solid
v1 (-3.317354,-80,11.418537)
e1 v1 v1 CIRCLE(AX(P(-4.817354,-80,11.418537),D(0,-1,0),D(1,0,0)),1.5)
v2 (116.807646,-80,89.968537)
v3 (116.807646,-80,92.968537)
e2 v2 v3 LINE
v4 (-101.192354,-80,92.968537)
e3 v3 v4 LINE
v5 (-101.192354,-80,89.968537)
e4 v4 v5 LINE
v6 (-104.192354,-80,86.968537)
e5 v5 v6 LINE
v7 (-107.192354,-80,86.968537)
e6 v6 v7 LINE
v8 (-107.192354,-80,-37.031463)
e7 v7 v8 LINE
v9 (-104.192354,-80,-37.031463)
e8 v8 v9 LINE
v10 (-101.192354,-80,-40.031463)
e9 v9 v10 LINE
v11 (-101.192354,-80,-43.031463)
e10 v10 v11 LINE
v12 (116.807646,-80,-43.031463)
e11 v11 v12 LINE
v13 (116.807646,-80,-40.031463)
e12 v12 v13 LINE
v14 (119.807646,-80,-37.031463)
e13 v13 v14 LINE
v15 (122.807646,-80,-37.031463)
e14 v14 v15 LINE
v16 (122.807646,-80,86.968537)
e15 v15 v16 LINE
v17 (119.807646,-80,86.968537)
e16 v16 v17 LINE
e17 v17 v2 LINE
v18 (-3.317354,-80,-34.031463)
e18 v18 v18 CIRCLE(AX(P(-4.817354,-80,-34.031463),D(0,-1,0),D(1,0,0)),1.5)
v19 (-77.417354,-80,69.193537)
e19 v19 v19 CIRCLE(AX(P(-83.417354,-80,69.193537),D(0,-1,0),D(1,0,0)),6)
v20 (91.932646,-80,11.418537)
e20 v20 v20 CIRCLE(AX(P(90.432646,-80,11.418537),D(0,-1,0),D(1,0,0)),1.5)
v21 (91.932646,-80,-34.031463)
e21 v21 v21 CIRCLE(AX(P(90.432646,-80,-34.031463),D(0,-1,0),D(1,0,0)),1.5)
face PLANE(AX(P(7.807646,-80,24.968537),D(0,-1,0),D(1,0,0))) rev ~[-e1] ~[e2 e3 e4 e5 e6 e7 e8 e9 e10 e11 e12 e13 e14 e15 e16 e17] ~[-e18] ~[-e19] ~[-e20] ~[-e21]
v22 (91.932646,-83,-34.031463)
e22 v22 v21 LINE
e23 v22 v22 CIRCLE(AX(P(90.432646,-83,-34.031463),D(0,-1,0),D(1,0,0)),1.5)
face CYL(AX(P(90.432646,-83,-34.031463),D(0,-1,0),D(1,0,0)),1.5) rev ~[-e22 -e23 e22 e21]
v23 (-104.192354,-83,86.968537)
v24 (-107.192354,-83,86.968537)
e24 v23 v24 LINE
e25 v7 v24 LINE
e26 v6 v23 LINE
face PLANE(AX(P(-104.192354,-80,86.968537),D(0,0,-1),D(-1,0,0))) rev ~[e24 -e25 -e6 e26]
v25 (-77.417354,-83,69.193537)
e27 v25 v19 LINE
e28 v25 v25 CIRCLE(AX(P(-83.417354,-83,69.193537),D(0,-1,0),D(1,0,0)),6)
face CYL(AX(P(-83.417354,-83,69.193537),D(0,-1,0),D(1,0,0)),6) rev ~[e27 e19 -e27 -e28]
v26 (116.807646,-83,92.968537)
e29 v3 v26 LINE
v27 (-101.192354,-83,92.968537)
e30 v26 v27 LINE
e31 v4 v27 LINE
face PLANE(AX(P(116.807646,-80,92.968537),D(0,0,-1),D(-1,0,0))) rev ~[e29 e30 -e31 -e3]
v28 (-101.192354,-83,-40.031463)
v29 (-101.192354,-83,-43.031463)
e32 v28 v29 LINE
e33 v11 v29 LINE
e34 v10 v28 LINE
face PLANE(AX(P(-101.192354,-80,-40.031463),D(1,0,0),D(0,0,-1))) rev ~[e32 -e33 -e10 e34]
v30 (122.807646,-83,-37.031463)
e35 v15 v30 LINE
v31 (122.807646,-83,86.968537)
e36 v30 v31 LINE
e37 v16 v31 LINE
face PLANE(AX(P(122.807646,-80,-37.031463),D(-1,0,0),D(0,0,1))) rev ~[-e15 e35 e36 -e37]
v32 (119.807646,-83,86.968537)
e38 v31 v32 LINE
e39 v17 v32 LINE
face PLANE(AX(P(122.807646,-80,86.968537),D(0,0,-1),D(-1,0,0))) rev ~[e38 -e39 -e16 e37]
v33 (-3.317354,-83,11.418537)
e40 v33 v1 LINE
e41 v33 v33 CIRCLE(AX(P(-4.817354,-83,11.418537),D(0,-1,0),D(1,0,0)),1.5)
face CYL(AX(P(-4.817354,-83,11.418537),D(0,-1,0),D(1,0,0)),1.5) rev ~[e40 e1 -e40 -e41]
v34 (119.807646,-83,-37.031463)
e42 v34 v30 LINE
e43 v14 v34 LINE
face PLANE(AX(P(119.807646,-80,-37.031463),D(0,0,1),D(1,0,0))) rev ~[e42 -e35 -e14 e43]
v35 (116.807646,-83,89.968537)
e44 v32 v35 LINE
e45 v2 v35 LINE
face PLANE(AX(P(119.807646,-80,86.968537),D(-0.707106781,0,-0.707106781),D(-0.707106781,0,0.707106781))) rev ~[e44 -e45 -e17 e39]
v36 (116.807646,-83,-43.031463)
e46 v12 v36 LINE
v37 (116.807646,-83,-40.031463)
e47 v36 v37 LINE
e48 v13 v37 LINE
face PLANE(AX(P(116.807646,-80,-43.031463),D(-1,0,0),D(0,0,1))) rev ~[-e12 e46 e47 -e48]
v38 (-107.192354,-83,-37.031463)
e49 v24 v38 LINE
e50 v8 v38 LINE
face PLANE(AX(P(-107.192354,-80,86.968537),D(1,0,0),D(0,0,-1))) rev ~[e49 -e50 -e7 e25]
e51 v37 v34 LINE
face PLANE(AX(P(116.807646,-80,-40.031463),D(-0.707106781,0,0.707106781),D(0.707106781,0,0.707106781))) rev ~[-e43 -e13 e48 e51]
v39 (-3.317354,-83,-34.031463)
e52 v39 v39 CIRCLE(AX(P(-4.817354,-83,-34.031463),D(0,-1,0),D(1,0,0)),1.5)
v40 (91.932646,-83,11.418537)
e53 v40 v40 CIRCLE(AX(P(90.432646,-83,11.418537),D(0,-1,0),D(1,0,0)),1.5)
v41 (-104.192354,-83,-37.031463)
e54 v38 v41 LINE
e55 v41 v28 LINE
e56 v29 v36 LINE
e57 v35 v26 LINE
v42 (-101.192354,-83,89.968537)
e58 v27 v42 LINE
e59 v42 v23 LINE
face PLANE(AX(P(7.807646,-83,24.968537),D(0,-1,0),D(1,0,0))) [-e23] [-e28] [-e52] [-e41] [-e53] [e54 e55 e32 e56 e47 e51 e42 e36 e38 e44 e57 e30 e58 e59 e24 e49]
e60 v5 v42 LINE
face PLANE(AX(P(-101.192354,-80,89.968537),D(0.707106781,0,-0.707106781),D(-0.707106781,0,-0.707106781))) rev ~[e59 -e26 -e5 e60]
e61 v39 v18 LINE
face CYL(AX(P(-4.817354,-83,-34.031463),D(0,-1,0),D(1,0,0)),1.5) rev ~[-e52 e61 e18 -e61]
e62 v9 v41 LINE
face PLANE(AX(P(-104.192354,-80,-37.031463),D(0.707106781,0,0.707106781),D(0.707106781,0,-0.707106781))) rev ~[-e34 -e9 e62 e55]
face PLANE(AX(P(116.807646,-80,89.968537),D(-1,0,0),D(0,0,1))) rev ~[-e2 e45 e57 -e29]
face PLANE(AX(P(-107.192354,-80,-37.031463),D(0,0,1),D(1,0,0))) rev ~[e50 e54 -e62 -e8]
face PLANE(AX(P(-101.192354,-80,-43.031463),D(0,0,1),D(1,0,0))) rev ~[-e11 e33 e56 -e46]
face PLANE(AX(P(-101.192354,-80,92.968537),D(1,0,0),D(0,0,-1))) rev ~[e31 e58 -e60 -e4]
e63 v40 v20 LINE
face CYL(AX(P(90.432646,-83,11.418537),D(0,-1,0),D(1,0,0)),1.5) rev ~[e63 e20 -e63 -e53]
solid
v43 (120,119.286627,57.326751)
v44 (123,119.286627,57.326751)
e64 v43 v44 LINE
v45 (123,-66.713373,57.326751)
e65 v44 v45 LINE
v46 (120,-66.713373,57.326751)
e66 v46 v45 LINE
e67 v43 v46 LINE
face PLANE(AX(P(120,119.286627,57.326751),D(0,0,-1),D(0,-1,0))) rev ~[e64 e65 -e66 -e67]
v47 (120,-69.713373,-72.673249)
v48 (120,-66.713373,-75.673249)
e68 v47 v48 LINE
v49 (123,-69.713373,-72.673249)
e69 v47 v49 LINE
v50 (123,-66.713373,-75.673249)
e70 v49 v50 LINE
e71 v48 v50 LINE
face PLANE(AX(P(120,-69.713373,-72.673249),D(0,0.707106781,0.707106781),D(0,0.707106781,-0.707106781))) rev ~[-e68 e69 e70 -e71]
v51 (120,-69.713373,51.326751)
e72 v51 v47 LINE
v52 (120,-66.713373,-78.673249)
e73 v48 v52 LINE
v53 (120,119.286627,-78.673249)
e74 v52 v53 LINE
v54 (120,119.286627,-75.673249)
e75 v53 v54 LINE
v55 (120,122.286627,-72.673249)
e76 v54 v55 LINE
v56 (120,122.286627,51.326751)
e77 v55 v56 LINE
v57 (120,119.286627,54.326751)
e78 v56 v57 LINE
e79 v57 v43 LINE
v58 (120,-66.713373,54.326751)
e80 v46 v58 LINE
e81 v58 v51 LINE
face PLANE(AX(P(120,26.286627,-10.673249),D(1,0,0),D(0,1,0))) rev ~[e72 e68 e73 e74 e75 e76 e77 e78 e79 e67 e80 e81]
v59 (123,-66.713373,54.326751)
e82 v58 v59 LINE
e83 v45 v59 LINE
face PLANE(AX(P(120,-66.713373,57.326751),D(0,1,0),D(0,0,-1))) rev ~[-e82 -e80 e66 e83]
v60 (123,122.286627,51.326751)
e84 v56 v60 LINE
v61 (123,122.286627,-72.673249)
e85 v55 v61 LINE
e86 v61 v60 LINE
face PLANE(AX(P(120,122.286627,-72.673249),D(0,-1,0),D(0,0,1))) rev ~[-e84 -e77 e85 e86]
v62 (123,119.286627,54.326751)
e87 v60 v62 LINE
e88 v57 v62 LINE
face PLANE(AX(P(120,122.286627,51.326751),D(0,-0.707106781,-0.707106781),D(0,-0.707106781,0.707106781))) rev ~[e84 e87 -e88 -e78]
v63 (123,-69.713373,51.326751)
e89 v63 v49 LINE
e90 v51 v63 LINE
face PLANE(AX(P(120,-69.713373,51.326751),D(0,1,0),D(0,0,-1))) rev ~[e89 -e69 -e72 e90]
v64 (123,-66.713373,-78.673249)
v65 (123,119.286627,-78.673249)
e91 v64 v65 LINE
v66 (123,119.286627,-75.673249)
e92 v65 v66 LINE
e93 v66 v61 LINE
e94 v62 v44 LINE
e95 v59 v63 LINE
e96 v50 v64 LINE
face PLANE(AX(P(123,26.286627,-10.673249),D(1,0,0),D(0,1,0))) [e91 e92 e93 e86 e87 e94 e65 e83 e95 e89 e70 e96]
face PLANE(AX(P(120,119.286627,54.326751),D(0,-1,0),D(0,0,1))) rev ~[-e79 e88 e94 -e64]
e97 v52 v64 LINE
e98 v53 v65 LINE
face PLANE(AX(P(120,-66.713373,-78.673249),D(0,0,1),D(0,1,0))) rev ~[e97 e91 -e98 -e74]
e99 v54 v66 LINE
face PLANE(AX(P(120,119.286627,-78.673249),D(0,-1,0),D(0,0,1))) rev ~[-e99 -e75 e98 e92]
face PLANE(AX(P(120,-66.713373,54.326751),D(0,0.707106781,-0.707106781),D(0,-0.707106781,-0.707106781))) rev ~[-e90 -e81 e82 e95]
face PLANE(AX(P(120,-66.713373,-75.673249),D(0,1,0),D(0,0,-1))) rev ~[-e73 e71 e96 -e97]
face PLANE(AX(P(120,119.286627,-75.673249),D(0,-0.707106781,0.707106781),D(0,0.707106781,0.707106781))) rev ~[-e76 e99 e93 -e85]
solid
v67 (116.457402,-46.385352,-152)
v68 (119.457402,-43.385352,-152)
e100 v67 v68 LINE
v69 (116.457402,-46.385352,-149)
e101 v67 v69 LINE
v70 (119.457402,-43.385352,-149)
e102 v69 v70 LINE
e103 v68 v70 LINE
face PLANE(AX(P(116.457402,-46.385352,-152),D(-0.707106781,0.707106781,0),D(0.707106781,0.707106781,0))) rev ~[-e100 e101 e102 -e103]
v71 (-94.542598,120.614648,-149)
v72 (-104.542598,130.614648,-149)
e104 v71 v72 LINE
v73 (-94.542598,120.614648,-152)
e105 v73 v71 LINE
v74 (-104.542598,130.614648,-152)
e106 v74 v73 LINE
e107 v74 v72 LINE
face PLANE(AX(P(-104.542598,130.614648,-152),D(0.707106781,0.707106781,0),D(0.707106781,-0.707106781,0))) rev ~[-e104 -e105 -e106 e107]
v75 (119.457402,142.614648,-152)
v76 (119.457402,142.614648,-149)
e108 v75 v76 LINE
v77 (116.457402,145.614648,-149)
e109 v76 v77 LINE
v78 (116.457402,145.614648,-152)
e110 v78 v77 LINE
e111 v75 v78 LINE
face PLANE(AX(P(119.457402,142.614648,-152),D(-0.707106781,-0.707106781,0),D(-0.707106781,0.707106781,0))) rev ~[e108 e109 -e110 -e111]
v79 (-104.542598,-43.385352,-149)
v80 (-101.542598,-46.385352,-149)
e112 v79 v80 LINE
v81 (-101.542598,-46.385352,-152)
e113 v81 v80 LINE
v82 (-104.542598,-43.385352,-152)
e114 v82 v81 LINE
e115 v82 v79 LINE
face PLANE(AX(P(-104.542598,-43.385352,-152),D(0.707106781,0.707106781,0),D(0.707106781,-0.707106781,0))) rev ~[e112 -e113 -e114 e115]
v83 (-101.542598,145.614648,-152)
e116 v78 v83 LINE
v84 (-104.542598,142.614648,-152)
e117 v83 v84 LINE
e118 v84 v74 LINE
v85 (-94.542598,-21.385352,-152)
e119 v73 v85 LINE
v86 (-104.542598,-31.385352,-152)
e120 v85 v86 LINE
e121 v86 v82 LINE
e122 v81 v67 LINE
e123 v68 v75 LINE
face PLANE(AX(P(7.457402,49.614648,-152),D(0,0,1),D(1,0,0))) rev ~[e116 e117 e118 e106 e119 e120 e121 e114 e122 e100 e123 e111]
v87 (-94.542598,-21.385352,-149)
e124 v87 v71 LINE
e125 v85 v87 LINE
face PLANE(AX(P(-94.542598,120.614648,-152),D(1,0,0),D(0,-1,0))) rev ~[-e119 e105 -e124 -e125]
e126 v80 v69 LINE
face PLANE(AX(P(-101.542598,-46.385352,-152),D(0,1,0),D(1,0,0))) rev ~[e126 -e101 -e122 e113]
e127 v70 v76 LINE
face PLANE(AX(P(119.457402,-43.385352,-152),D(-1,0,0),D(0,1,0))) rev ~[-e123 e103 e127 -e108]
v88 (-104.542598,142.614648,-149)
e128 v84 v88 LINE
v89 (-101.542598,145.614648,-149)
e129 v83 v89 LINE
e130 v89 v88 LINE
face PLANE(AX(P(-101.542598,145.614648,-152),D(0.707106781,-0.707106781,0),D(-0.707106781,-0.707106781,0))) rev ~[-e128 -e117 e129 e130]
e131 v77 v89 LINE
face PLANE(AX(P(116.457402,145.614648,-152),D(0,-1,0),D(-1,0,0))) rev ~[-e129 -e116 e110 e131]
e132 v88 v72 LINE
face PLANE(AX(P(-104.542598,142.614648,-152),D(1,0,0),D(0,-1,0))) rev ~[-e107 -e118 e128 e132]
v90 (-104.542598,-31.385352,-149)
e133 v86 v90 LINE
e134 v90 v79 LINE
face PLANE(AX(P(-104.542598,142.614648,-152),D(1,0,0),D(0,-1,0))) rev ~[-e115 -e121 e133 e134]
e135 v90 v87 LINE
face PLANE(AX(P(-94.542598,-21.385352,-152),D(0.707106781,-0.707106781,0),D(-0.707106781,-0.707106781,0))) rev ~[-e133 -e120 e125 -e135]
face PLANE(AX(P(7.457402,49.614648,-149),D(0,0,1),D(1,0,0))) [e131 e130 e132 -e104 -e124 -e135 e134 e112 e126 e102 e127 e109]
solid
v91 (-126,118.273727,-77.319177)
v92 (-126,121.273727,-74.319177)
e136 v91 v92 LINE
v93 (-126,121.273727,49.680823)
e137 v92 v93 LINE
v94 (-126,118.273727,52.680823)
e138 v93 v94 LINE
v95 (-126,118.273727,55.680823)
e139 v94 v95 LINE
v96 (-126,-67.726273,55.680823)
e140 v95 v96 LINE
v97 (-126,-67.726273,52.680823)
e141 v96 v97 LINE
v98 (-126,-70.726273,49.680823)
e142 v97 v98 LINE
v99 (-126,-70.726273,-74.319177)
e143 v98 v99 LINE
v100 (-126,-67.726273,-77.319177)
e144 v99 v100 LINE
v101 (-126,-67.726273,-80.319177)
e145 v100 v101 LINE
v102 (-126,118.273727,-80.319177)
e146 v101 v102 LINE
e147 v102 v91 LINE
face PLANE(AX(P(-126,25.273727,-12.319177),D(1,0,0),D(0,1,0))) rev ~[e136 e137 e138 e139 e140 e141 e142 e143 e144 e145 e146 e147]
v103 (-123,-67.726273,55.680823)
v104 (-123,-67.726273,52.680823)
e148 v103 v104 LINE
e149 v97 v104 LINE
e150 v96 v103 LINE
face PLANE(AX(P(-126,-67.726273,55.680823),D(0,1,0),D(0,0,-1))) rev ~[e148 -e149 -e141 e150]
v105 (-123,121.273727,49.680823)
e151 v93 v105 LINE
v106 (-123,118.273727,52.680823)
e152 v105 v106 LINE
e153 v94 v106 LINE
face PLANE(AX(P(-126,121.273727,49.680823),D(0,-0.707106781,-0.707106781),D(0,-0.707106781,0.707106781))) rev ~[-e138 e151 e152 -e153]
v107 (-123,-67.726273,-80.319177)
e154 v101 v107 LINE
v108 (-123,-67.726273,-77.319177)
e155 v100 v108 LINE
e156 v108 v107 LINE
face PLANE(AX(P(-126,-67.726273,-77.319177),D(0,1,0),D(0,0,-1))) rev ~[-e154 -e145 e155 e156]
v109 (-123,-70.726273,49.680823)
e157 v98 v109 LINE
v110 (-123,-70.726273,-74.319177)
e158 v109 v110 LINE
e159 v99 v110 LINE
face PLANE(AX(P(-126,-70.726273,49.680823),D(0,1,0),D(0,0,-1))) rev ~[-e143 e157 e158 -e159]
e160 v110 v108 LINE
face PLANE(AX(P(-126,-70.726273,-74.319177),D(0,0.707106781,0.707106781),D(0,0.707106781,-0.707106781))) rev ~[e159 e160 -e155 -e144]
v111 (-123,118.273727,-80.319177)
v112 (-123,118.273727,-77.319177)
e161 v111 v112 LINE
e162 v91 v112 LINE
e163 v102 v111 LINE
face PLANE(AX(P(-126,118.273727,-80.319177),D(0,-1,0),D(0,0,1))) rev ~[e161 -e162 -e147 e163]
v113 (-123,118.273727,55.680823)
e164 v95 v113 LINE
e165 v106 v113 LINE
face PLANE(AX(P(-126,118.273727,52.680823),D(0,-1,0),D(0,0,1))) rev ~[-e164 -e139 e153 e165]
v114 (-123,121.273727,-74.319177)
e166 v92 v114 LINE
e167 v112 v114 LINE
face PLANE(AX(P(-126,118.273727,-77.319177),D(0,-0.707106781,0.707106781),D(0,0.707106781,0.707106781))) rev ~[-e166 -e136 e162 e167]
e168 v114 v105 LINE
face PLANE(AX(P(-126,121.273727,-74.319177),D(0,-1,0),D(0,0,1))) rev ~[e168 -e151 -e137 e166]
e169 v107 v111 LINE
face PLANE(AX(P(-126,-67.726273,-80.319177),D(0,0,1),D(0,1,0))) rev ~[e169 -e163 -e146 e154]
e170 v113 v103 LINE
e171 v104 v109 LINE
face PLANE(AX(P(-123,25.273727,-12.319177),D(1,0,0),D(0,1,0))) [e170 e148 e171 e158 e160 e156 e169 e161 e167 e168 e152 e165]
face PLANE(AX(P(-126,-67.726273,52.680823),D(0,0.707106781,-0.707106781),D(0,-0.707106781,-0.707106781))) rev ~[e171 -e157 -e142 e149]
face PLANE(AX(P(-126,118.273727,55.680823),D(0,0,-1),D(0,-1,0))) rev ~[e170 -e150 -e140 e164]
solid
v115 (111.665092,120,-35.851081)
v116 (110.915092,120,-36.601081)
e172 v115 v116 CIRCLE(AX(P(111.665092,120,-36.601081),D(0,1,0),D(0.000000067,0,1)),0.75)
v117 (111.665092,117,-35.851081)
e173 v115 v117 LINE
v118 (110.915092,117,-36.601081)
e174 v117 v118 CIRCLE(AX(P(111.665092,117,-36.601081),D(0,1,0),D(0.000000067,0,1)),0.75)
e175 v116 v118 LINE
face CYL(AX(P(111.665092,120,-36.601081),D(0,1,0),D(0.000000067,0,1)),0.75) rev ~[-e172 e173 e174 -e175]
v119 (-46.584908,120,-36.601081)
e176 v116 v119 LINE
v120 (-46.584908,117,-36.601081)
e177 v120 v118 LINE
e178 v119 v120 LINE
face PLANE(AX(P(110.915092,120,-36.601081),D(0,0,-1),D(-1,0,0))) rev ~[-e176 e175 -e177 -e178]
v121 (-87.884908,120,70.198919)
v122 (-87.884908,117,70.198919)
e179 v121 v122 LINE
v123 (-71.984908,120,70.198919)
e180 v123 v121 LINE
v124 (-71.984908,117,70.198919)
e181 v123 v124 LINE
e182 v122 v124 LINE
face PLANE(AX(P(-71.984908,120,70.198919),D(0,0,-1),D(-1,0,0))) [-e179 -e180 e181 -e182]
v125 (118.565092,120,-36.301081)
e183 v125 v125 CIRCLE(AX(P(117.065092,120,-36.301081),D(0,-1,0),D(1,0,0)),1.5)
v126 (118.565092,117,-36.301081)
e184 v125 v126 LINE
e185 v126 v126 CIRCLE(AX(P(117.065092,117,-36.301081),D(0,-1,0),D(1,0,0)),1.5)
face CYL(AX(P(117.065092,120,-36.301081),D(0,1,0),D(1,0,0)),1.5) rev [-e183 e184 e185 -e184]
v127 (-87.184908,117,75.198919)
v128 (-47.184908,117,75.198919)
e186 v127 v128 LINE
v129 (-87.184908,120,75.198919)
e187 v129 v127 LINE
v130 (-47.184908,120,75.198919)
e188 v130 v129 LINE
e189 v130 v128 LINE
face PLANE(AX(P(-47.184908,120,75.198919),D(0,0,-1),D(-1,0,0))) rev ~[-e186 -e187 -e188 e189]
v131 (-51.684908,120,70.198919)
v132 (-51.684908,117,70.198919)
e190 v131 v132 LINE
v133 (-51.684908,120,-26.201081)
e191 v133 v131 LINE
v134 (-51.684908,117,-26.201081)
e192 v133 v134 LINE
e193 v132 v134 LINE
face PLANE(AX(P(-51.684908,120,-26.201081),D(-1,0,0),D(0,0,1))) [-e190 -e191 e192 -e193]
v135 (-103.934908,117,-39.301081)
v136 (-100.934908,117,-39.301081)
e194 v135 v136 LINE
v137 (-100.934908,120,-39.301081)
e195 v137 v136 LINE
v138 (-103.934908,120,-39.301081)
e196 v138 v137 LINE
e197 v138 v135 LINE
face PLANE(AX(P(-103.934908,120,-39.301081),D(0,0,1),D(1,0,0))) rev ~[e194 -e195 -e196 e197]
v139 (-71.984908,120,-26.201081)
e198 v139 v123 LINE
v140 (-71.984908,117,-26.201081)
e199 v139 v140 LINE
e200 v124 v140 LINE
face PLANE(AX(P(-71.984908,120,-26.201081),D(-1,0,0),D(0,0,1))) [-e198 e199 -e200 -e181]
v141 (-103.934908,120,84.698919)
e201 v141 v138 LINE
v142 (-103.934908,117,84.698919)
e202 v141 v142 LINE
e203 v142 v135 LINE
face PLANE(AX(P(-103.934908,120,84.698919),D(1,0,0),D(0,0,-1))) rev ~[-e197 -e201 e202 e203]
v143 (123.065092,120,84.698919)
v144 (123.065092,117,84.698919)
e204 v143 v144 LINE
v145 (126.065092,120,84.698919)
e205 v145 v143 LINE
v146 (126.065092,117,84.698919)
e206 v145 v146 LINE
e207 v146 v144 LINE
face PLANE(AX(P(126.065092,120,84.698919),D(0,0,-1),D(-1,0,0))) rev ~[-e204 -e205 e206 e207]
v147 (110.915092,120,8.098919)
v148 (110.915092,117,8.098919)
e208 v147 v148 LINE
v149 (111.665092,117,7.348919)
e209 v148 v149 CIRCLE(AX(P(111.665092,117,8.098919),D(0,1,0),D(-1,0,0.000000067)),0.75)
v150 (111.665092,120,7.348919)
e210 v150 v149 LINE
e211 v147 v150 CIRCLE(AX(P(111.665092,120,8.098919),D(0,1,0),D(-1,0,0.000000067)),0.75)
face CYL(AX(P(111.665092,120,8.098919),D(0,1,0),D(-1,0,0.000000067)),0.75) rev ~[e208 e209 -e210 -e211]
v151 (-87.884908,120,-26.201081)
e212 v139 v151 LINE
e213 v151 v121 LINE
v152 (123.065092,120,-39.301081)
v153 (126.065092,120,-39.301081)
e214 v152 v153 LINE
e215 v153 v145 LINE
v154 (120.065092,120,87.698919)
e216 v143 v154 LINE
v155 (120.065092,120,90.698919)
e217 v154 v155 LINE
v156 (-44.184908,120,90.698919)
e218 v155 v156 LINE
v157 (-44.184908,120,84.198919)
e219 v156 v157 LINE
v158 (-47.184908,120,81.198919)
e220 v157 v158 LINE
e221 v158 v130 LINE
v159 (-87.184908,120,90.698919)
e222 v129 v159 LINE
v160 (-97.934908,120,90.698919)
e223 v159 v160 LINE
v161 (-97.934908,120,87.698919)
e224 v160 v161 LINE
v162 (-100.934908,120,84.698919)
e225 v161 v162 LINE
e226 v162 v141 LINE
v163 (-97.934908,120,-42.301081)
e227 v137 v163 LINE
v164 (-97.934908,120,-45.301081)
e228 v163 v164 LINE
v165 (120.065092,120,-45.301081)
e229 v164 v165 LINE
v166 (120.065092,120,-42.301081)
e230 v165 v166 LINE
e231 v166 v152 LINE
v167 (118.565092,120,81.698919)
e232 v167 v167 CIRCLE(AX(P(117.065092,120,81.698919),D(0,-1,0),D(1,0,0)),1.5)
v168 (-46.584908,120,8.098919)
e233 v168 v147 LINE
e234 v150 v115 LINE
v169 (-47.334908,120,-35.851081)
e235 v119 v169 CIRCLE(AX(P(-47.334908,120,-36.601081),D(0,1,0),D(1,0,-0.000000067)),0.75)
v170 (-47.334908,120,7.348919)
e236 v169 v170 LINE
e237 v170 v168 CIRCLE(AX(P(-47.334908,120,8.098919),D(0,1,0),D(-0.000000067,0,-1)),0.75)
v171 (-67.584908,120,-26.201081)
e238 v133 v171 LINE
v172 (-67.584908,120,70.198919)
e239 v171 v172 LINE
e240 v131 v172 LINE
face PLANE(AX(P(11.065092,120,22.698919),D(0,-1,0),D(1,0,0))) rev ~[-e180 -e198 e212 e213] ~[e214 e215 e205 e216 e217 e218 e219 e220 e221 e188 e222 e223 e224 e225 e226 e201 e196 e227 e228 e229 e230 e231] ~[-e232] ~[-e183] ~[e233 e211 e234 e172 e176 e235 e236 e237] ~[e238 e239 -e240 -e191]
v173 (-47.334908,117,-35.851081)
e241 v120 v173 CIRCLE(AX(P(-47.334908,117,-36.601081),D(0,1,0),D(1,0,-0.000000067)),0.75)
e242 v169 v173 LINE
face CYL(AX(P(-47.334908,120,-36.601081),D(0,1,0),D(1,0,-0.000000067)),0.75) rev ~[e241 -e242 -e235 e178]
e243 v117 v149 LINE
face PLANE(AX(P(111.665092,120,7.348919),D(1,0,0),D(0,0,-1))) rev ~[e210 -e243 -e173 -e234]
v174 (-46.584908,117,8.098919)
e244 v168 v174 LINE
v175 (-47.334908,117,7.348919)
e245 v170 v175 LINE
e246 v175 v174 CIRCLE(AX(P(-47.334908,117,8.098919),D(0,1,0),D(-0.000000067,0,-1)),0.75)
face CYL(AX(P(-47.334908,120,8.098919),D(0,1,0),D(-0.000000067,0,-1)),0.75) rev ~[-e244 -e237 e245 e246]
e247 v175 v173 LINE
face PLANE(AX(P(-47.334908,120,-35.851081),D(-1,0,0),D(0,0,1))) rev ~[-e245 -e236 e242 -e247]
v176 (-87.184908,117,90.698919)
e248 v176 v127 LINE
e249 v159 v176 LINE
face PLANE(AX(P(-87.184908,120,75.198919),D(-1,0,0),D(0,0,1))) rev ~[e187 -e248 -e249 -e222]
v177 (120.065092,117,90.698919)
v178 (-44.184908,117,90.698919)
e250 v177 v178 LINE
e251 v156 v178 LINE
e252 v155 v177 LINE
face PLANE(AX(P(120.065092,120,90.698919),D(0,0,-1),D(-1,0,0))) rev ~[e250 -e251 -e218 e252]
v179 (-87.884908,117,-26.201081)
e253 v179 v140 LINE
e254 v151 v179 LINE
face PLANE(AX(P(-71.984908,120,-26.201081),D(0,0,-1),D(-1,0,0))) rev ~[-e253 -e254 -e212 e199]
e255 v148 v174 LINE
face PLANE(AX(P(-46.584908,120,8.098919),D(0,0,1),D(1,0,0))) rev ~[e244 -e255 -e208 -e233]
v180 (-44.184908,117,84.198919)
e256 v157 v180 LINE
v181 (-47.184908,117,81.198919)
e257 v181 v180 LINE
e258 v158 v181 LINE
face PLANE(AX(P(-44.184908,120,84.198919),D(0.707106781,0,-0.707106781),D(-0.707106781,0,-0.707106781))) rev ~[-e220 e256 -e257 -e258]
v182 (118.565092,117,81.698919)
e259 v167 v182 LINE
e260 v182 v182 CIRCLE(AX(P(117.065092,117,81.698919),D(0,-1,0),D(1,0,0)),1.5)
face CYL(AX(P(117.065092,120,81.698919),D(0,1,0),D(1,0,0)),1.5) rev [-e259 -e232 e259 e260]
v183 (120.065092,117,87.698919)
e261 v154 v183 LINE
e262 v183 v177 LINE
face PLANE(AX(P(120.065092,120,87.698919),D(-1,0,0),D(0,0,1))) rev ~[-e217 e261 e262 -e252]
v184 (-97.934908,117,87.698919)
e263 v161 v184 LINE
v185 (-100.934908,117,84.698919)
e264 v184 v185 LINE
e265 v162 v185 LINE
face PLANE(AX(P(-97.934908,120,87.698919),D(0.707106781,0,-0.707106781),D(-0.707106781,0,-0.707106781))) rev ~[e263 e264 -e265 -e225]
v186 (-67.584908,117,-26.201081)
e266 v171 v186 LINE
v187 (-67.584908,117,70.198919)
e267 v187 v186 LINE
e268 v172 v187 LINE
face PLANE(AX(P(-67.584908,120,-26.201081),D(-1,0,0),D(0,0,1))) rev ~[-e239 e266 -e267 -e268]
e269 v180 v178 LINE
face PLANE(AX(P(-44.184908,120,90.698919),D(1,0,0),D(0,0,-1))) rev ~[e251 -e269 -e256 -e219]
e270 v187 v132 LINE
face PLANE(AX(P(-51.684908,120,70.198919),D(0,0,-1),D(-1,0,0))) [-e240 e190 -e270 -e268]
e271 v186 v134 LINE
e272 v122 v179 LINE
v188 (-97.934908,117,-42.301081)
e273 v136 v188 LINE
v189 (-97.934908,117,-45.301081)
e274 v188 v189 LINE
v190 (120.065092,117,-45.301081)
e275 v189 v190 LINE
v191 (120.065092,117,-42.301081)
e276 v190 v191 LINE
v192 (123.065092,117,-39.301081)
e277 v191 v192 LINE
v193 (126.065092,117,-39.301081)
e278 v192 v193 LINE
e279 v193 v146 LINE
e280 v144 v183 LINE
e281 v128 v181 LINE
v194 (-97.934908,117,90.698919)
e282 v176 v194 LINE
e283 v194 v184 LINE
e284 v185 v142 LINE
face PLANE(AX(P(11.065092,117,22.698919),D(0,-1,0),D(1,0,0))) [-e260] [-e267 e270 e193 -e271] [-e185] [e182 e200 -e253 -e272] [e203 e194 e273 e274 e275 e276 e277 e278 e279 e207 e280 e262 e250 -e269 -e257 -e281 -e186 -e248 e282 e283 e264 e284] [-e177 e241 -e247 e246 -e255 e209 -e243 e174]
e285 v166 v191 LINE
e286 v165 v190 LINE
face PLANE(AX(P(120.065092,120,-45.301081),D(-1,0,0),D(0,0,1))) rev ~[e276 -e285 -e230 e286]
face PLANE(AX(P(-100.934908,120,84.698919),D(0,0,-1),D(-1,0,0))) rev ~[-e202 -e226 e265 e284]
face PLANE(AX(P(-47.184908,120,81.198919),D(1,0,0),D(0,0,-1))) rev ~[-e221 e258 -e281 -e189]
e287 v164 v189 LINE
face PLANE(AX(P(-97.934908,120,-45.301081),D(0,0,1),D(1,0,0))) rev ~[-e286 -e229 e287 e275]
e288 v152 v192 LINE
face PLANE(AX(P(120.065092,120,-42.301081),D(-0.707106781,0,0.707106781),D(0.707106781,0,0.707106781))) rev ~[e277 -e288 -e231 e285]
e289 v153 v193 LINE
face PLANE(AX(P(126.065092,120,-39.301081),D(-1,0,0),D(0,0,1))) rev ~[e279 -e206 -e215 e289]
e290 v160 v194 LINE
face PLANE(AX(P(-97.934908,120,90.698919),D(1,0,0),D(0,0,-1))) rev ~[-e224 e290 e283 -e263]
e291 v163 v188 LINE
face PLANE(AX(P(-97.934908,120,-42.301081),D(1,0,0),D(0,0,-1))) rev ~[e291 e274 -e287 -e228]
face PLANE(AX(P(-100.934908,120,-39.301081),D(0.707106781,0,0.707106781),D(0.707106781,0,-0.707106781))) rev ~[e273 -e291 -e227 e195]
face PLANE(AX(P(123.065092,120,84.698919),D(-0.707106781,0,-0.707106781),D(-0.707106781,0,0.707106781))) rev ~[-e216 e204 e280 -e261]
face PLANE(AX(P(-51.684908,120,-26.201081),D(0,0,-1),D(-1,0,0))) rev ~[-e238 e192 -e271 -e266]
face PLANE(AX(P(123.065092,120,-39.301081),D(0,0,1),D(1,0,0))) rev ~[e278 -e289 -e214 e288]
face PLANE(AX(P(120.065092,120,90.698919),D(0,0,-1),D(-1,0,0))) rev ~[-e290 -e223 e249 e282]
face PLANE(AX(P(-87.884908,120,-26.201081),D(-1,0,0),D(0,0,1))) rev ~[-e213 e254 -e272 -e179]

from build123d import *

# Parameters (mm, degrees)
F2_DEPTH  = 3
F5_DEPTH  = 3
F7_R      = 1.5
F8_DEPTH  = 3
F11_DEPTH = 3
F14_DEPTH = 3
F15_R     = 1.5
F15_R_2   = 6
F16_DEPTH = 25
F17_W     = 15.9
F17_H     = 96.4
F18_DEPTH = 25
F20_DEPTH = 25


with BuildPart() as f2:
    # F1 (on offset) → F2 (new body)
    with BuildSketch(Plane.XZ.offset(80)):
        Polygon((116.807646, 92.968537), (-101.192354, 92.968537), (-101.192354, 89.968537), (-104.192354, 86.968537), (-107.192354, 86.968537), (-107.192354, -37.031463), (-104.192354, -37.031463), (-101.192354, -40.031463), (-101.192354, -43.031463), (116.807646, -43.031463), (116.807646, -40.031463), (119.807646, -37.031463), (122.807646, -37.031463), (122.807646, 86.968537), (119.807646, 86.968537), (116.807646, 89.968537), align=None)
    extrude(amount=F2_DEPTH)

    # F15 (on face) → F16 (cut)
    with BuildSketch(Plane.XZ.offset(83)):
        with Locations((-4.817354, -34.031463)):
            Circle(F15_R)
        with Locations((-4.817354, 11.418537)):
            Circle(F15_R)
        with Locations((90.432646, 11.418537)):
            Circle(F15_R)
        with Locations((90.432646, -34.031463)):
            Circle(F15_R)
        with Locations((-83.417354, 69.193537)):
            Circle(F15_R_2)
    extrude(amount=-F16_DEPTH, mode=Mode.SUBTRACT)


with BuildPart() as f5:
    # F4 (on offset) → F5 (new body)
    with BuildSketch(Plane.YZ.offset(120)):
        Polygon((119.286627, 57.326751), (-66.713373, 57.326751), (-66.713373, 54.326751), (-69.713373, 51.326751), (-69.713373, -72.673249), (-66.713373, -75.673249), (-66.713373, -78.673249), (119.286627, -78.673249), (119.286627, -75.673249), (122.286627, -72.673249), (122.286627, 51.326751), (119.286627, 54.326751), align=None)
    extrude(amount=F5_DEPTH)


with BuildPart() as f8:
    # F7 (on offset) → F8 (new body)
    with BuildSketch(Plane.XZ.offset(-120)):
        Polygon((120.065092, 87.698919), (120.065092, 90.698919), (-97.934908, 90.698919), (-97.934908, 87.698919), (-100.934908, 84.698919), (-103.934908, 84.698919), (-103.934908, -39.301081), (-100.934908, -39.301081), (-97.934908, -42.301081), (-97.934908, -45.301081), (120.065092, -45.301081), (120.065092, -42.301081), (123.065092, -39.301081), (126.065092, -39.301081), (126.065092, 84.698919), (123.065092, 84.698919), align=None)
        with Locations((117.065092, -36.301081)):
            Circle(F7_R, mode=Mode.SUBTRACT)
        with Locations((117.065092, 81.698919)):
            Circle(F7_R, mode=Mode.SUBTRACT)
    extrude(amount=F8_DEPTH)

    # F17 (on face) → F18 (cut)
    with BuildSketch(Plane(origin=(0, 120, 0), x_dir=(-1, 0, 0), z_dir=(0, 1, 0))):
        with Locations((59.634908, 21.998919)):
            Rectangle(F17_W, F17_H)
        with Locations((79.934908, 21.998919)):
            Rectangle(F17_W, F17_H)
        Polygon((-110.915092, 8.098919), (-111.665092, 8.098919), (-111.665092, 7.348919), (-111.665092, -35.851081), (-111.665092, -36.601081), (-110.915092, -36.601081), (46.584908, -36.601081), (47.334908, -36.601081), (47.334908, -35.851081), (47.334908, 7.348919), (47.334908, 8.098919), (46.584908, 8.098919), align=None)
        with BuildLine():
            Line((-111.665092, 7.348919), (-111.665092, 8.098919))
            Line((-111.665092, 8.098919), (-110.915092, 8.098919))
            ThreePointArc((-110.915092, 8.098919), (-112.195422, 8.629249), (-111.665092, 7.348919))
        make_face()
        with BuildLine():
            Line((-111.665092, -36.601081), (-111.665092, -35.851081))
            ThreePointArc((-111.665092, -35.851081), (-112.195422, -37.131411), (-110.915092, -36.601081))
            Line((-110.915092, -36.601081), (-111.665092, -36.601081))
        make_face()
        with BuildLine():
            ThreePointArc((47.334908, 7.348919), (47.865238, 8.629249), (46.584908, 8.098919))
            Line((46.584908, 8.098919), (47.334908, 8.098919))
            Line((47.334908, 8.098919), (47.334908, 7.348919))
        make_face()
        with BuildLine():
            Line((47.334908, -36.601081), (46.584908, -36.601081))
            ThreePointArc((46.584908, -36.601081), (47.865238, -37.131411), (47.334908, -35.851081))
            Line((47.334908, -35.851081), (47.334908, -36.601081))
        make_face()
        Polygon((47.184908, 81.198919), (47.184908, 75.198919), (87.184908, 75.198919), (87.184908, 90.698919), (44.184908, 90.698919), (44.184908, 84.198919), align=None)
    extrude(amount=-F18_DEPTH, mode=Mode.SUBTRACT)


with BuildPart() as f11:
    # F10 (on offset) → F11 (new body)
    with BuildSketch(Plane.YZ.offset(-126)):
        Polygon((118.273727, 55.680823), (-67.726273, 55.680823), (-67.726273, 52.680823), (-70.726273, 49.680823), (-70.726273, -74.319177), (-67.726273, -77.319177), (-67.726273, -80.319177), (118.273727, -80.319177), (118.273727, -77.319177), (121.273727, -74.319177), (121.273727, 49.680823), (118.273727, 52.680823), align=None)
    extrude(amount=F11_DEPTH)


with BuildPart() as f14:
    # F13 (on offset) → F14 (new body)
    with BuildSketch(Plane.XY.offset(-152)):
        Polygon((-104.542598, -43.385352), (-101.542598, -46.385352), (116.457402, -46.385352), (119.457402, -43.385352), (119.457402, 142.614648), (116.457402, 145.614648), (-101.542598, 145.614648), (-104.542598, 142.614648), align=None)
    extrude(amount=F14_DEPTH)

    # F19 (on face) → F20 (cut)
    with BuildSketch(Plane(origin=(0, 0, -152), x_dir=(1, 0, 0), z_dir=(0, 0, -1))):
        Polygon((-94.542598, 21.385352), (-104.542598, 31.385352), (-104.542598, -130.614648), (-94.542598, -120.614648), align=None)
    extrude(amount=-F20_DEPTH, mode=Mode.SUBTRACT)


solid = Compound([f2.part, f5.part, f8.part, f11.part, f14.part])
